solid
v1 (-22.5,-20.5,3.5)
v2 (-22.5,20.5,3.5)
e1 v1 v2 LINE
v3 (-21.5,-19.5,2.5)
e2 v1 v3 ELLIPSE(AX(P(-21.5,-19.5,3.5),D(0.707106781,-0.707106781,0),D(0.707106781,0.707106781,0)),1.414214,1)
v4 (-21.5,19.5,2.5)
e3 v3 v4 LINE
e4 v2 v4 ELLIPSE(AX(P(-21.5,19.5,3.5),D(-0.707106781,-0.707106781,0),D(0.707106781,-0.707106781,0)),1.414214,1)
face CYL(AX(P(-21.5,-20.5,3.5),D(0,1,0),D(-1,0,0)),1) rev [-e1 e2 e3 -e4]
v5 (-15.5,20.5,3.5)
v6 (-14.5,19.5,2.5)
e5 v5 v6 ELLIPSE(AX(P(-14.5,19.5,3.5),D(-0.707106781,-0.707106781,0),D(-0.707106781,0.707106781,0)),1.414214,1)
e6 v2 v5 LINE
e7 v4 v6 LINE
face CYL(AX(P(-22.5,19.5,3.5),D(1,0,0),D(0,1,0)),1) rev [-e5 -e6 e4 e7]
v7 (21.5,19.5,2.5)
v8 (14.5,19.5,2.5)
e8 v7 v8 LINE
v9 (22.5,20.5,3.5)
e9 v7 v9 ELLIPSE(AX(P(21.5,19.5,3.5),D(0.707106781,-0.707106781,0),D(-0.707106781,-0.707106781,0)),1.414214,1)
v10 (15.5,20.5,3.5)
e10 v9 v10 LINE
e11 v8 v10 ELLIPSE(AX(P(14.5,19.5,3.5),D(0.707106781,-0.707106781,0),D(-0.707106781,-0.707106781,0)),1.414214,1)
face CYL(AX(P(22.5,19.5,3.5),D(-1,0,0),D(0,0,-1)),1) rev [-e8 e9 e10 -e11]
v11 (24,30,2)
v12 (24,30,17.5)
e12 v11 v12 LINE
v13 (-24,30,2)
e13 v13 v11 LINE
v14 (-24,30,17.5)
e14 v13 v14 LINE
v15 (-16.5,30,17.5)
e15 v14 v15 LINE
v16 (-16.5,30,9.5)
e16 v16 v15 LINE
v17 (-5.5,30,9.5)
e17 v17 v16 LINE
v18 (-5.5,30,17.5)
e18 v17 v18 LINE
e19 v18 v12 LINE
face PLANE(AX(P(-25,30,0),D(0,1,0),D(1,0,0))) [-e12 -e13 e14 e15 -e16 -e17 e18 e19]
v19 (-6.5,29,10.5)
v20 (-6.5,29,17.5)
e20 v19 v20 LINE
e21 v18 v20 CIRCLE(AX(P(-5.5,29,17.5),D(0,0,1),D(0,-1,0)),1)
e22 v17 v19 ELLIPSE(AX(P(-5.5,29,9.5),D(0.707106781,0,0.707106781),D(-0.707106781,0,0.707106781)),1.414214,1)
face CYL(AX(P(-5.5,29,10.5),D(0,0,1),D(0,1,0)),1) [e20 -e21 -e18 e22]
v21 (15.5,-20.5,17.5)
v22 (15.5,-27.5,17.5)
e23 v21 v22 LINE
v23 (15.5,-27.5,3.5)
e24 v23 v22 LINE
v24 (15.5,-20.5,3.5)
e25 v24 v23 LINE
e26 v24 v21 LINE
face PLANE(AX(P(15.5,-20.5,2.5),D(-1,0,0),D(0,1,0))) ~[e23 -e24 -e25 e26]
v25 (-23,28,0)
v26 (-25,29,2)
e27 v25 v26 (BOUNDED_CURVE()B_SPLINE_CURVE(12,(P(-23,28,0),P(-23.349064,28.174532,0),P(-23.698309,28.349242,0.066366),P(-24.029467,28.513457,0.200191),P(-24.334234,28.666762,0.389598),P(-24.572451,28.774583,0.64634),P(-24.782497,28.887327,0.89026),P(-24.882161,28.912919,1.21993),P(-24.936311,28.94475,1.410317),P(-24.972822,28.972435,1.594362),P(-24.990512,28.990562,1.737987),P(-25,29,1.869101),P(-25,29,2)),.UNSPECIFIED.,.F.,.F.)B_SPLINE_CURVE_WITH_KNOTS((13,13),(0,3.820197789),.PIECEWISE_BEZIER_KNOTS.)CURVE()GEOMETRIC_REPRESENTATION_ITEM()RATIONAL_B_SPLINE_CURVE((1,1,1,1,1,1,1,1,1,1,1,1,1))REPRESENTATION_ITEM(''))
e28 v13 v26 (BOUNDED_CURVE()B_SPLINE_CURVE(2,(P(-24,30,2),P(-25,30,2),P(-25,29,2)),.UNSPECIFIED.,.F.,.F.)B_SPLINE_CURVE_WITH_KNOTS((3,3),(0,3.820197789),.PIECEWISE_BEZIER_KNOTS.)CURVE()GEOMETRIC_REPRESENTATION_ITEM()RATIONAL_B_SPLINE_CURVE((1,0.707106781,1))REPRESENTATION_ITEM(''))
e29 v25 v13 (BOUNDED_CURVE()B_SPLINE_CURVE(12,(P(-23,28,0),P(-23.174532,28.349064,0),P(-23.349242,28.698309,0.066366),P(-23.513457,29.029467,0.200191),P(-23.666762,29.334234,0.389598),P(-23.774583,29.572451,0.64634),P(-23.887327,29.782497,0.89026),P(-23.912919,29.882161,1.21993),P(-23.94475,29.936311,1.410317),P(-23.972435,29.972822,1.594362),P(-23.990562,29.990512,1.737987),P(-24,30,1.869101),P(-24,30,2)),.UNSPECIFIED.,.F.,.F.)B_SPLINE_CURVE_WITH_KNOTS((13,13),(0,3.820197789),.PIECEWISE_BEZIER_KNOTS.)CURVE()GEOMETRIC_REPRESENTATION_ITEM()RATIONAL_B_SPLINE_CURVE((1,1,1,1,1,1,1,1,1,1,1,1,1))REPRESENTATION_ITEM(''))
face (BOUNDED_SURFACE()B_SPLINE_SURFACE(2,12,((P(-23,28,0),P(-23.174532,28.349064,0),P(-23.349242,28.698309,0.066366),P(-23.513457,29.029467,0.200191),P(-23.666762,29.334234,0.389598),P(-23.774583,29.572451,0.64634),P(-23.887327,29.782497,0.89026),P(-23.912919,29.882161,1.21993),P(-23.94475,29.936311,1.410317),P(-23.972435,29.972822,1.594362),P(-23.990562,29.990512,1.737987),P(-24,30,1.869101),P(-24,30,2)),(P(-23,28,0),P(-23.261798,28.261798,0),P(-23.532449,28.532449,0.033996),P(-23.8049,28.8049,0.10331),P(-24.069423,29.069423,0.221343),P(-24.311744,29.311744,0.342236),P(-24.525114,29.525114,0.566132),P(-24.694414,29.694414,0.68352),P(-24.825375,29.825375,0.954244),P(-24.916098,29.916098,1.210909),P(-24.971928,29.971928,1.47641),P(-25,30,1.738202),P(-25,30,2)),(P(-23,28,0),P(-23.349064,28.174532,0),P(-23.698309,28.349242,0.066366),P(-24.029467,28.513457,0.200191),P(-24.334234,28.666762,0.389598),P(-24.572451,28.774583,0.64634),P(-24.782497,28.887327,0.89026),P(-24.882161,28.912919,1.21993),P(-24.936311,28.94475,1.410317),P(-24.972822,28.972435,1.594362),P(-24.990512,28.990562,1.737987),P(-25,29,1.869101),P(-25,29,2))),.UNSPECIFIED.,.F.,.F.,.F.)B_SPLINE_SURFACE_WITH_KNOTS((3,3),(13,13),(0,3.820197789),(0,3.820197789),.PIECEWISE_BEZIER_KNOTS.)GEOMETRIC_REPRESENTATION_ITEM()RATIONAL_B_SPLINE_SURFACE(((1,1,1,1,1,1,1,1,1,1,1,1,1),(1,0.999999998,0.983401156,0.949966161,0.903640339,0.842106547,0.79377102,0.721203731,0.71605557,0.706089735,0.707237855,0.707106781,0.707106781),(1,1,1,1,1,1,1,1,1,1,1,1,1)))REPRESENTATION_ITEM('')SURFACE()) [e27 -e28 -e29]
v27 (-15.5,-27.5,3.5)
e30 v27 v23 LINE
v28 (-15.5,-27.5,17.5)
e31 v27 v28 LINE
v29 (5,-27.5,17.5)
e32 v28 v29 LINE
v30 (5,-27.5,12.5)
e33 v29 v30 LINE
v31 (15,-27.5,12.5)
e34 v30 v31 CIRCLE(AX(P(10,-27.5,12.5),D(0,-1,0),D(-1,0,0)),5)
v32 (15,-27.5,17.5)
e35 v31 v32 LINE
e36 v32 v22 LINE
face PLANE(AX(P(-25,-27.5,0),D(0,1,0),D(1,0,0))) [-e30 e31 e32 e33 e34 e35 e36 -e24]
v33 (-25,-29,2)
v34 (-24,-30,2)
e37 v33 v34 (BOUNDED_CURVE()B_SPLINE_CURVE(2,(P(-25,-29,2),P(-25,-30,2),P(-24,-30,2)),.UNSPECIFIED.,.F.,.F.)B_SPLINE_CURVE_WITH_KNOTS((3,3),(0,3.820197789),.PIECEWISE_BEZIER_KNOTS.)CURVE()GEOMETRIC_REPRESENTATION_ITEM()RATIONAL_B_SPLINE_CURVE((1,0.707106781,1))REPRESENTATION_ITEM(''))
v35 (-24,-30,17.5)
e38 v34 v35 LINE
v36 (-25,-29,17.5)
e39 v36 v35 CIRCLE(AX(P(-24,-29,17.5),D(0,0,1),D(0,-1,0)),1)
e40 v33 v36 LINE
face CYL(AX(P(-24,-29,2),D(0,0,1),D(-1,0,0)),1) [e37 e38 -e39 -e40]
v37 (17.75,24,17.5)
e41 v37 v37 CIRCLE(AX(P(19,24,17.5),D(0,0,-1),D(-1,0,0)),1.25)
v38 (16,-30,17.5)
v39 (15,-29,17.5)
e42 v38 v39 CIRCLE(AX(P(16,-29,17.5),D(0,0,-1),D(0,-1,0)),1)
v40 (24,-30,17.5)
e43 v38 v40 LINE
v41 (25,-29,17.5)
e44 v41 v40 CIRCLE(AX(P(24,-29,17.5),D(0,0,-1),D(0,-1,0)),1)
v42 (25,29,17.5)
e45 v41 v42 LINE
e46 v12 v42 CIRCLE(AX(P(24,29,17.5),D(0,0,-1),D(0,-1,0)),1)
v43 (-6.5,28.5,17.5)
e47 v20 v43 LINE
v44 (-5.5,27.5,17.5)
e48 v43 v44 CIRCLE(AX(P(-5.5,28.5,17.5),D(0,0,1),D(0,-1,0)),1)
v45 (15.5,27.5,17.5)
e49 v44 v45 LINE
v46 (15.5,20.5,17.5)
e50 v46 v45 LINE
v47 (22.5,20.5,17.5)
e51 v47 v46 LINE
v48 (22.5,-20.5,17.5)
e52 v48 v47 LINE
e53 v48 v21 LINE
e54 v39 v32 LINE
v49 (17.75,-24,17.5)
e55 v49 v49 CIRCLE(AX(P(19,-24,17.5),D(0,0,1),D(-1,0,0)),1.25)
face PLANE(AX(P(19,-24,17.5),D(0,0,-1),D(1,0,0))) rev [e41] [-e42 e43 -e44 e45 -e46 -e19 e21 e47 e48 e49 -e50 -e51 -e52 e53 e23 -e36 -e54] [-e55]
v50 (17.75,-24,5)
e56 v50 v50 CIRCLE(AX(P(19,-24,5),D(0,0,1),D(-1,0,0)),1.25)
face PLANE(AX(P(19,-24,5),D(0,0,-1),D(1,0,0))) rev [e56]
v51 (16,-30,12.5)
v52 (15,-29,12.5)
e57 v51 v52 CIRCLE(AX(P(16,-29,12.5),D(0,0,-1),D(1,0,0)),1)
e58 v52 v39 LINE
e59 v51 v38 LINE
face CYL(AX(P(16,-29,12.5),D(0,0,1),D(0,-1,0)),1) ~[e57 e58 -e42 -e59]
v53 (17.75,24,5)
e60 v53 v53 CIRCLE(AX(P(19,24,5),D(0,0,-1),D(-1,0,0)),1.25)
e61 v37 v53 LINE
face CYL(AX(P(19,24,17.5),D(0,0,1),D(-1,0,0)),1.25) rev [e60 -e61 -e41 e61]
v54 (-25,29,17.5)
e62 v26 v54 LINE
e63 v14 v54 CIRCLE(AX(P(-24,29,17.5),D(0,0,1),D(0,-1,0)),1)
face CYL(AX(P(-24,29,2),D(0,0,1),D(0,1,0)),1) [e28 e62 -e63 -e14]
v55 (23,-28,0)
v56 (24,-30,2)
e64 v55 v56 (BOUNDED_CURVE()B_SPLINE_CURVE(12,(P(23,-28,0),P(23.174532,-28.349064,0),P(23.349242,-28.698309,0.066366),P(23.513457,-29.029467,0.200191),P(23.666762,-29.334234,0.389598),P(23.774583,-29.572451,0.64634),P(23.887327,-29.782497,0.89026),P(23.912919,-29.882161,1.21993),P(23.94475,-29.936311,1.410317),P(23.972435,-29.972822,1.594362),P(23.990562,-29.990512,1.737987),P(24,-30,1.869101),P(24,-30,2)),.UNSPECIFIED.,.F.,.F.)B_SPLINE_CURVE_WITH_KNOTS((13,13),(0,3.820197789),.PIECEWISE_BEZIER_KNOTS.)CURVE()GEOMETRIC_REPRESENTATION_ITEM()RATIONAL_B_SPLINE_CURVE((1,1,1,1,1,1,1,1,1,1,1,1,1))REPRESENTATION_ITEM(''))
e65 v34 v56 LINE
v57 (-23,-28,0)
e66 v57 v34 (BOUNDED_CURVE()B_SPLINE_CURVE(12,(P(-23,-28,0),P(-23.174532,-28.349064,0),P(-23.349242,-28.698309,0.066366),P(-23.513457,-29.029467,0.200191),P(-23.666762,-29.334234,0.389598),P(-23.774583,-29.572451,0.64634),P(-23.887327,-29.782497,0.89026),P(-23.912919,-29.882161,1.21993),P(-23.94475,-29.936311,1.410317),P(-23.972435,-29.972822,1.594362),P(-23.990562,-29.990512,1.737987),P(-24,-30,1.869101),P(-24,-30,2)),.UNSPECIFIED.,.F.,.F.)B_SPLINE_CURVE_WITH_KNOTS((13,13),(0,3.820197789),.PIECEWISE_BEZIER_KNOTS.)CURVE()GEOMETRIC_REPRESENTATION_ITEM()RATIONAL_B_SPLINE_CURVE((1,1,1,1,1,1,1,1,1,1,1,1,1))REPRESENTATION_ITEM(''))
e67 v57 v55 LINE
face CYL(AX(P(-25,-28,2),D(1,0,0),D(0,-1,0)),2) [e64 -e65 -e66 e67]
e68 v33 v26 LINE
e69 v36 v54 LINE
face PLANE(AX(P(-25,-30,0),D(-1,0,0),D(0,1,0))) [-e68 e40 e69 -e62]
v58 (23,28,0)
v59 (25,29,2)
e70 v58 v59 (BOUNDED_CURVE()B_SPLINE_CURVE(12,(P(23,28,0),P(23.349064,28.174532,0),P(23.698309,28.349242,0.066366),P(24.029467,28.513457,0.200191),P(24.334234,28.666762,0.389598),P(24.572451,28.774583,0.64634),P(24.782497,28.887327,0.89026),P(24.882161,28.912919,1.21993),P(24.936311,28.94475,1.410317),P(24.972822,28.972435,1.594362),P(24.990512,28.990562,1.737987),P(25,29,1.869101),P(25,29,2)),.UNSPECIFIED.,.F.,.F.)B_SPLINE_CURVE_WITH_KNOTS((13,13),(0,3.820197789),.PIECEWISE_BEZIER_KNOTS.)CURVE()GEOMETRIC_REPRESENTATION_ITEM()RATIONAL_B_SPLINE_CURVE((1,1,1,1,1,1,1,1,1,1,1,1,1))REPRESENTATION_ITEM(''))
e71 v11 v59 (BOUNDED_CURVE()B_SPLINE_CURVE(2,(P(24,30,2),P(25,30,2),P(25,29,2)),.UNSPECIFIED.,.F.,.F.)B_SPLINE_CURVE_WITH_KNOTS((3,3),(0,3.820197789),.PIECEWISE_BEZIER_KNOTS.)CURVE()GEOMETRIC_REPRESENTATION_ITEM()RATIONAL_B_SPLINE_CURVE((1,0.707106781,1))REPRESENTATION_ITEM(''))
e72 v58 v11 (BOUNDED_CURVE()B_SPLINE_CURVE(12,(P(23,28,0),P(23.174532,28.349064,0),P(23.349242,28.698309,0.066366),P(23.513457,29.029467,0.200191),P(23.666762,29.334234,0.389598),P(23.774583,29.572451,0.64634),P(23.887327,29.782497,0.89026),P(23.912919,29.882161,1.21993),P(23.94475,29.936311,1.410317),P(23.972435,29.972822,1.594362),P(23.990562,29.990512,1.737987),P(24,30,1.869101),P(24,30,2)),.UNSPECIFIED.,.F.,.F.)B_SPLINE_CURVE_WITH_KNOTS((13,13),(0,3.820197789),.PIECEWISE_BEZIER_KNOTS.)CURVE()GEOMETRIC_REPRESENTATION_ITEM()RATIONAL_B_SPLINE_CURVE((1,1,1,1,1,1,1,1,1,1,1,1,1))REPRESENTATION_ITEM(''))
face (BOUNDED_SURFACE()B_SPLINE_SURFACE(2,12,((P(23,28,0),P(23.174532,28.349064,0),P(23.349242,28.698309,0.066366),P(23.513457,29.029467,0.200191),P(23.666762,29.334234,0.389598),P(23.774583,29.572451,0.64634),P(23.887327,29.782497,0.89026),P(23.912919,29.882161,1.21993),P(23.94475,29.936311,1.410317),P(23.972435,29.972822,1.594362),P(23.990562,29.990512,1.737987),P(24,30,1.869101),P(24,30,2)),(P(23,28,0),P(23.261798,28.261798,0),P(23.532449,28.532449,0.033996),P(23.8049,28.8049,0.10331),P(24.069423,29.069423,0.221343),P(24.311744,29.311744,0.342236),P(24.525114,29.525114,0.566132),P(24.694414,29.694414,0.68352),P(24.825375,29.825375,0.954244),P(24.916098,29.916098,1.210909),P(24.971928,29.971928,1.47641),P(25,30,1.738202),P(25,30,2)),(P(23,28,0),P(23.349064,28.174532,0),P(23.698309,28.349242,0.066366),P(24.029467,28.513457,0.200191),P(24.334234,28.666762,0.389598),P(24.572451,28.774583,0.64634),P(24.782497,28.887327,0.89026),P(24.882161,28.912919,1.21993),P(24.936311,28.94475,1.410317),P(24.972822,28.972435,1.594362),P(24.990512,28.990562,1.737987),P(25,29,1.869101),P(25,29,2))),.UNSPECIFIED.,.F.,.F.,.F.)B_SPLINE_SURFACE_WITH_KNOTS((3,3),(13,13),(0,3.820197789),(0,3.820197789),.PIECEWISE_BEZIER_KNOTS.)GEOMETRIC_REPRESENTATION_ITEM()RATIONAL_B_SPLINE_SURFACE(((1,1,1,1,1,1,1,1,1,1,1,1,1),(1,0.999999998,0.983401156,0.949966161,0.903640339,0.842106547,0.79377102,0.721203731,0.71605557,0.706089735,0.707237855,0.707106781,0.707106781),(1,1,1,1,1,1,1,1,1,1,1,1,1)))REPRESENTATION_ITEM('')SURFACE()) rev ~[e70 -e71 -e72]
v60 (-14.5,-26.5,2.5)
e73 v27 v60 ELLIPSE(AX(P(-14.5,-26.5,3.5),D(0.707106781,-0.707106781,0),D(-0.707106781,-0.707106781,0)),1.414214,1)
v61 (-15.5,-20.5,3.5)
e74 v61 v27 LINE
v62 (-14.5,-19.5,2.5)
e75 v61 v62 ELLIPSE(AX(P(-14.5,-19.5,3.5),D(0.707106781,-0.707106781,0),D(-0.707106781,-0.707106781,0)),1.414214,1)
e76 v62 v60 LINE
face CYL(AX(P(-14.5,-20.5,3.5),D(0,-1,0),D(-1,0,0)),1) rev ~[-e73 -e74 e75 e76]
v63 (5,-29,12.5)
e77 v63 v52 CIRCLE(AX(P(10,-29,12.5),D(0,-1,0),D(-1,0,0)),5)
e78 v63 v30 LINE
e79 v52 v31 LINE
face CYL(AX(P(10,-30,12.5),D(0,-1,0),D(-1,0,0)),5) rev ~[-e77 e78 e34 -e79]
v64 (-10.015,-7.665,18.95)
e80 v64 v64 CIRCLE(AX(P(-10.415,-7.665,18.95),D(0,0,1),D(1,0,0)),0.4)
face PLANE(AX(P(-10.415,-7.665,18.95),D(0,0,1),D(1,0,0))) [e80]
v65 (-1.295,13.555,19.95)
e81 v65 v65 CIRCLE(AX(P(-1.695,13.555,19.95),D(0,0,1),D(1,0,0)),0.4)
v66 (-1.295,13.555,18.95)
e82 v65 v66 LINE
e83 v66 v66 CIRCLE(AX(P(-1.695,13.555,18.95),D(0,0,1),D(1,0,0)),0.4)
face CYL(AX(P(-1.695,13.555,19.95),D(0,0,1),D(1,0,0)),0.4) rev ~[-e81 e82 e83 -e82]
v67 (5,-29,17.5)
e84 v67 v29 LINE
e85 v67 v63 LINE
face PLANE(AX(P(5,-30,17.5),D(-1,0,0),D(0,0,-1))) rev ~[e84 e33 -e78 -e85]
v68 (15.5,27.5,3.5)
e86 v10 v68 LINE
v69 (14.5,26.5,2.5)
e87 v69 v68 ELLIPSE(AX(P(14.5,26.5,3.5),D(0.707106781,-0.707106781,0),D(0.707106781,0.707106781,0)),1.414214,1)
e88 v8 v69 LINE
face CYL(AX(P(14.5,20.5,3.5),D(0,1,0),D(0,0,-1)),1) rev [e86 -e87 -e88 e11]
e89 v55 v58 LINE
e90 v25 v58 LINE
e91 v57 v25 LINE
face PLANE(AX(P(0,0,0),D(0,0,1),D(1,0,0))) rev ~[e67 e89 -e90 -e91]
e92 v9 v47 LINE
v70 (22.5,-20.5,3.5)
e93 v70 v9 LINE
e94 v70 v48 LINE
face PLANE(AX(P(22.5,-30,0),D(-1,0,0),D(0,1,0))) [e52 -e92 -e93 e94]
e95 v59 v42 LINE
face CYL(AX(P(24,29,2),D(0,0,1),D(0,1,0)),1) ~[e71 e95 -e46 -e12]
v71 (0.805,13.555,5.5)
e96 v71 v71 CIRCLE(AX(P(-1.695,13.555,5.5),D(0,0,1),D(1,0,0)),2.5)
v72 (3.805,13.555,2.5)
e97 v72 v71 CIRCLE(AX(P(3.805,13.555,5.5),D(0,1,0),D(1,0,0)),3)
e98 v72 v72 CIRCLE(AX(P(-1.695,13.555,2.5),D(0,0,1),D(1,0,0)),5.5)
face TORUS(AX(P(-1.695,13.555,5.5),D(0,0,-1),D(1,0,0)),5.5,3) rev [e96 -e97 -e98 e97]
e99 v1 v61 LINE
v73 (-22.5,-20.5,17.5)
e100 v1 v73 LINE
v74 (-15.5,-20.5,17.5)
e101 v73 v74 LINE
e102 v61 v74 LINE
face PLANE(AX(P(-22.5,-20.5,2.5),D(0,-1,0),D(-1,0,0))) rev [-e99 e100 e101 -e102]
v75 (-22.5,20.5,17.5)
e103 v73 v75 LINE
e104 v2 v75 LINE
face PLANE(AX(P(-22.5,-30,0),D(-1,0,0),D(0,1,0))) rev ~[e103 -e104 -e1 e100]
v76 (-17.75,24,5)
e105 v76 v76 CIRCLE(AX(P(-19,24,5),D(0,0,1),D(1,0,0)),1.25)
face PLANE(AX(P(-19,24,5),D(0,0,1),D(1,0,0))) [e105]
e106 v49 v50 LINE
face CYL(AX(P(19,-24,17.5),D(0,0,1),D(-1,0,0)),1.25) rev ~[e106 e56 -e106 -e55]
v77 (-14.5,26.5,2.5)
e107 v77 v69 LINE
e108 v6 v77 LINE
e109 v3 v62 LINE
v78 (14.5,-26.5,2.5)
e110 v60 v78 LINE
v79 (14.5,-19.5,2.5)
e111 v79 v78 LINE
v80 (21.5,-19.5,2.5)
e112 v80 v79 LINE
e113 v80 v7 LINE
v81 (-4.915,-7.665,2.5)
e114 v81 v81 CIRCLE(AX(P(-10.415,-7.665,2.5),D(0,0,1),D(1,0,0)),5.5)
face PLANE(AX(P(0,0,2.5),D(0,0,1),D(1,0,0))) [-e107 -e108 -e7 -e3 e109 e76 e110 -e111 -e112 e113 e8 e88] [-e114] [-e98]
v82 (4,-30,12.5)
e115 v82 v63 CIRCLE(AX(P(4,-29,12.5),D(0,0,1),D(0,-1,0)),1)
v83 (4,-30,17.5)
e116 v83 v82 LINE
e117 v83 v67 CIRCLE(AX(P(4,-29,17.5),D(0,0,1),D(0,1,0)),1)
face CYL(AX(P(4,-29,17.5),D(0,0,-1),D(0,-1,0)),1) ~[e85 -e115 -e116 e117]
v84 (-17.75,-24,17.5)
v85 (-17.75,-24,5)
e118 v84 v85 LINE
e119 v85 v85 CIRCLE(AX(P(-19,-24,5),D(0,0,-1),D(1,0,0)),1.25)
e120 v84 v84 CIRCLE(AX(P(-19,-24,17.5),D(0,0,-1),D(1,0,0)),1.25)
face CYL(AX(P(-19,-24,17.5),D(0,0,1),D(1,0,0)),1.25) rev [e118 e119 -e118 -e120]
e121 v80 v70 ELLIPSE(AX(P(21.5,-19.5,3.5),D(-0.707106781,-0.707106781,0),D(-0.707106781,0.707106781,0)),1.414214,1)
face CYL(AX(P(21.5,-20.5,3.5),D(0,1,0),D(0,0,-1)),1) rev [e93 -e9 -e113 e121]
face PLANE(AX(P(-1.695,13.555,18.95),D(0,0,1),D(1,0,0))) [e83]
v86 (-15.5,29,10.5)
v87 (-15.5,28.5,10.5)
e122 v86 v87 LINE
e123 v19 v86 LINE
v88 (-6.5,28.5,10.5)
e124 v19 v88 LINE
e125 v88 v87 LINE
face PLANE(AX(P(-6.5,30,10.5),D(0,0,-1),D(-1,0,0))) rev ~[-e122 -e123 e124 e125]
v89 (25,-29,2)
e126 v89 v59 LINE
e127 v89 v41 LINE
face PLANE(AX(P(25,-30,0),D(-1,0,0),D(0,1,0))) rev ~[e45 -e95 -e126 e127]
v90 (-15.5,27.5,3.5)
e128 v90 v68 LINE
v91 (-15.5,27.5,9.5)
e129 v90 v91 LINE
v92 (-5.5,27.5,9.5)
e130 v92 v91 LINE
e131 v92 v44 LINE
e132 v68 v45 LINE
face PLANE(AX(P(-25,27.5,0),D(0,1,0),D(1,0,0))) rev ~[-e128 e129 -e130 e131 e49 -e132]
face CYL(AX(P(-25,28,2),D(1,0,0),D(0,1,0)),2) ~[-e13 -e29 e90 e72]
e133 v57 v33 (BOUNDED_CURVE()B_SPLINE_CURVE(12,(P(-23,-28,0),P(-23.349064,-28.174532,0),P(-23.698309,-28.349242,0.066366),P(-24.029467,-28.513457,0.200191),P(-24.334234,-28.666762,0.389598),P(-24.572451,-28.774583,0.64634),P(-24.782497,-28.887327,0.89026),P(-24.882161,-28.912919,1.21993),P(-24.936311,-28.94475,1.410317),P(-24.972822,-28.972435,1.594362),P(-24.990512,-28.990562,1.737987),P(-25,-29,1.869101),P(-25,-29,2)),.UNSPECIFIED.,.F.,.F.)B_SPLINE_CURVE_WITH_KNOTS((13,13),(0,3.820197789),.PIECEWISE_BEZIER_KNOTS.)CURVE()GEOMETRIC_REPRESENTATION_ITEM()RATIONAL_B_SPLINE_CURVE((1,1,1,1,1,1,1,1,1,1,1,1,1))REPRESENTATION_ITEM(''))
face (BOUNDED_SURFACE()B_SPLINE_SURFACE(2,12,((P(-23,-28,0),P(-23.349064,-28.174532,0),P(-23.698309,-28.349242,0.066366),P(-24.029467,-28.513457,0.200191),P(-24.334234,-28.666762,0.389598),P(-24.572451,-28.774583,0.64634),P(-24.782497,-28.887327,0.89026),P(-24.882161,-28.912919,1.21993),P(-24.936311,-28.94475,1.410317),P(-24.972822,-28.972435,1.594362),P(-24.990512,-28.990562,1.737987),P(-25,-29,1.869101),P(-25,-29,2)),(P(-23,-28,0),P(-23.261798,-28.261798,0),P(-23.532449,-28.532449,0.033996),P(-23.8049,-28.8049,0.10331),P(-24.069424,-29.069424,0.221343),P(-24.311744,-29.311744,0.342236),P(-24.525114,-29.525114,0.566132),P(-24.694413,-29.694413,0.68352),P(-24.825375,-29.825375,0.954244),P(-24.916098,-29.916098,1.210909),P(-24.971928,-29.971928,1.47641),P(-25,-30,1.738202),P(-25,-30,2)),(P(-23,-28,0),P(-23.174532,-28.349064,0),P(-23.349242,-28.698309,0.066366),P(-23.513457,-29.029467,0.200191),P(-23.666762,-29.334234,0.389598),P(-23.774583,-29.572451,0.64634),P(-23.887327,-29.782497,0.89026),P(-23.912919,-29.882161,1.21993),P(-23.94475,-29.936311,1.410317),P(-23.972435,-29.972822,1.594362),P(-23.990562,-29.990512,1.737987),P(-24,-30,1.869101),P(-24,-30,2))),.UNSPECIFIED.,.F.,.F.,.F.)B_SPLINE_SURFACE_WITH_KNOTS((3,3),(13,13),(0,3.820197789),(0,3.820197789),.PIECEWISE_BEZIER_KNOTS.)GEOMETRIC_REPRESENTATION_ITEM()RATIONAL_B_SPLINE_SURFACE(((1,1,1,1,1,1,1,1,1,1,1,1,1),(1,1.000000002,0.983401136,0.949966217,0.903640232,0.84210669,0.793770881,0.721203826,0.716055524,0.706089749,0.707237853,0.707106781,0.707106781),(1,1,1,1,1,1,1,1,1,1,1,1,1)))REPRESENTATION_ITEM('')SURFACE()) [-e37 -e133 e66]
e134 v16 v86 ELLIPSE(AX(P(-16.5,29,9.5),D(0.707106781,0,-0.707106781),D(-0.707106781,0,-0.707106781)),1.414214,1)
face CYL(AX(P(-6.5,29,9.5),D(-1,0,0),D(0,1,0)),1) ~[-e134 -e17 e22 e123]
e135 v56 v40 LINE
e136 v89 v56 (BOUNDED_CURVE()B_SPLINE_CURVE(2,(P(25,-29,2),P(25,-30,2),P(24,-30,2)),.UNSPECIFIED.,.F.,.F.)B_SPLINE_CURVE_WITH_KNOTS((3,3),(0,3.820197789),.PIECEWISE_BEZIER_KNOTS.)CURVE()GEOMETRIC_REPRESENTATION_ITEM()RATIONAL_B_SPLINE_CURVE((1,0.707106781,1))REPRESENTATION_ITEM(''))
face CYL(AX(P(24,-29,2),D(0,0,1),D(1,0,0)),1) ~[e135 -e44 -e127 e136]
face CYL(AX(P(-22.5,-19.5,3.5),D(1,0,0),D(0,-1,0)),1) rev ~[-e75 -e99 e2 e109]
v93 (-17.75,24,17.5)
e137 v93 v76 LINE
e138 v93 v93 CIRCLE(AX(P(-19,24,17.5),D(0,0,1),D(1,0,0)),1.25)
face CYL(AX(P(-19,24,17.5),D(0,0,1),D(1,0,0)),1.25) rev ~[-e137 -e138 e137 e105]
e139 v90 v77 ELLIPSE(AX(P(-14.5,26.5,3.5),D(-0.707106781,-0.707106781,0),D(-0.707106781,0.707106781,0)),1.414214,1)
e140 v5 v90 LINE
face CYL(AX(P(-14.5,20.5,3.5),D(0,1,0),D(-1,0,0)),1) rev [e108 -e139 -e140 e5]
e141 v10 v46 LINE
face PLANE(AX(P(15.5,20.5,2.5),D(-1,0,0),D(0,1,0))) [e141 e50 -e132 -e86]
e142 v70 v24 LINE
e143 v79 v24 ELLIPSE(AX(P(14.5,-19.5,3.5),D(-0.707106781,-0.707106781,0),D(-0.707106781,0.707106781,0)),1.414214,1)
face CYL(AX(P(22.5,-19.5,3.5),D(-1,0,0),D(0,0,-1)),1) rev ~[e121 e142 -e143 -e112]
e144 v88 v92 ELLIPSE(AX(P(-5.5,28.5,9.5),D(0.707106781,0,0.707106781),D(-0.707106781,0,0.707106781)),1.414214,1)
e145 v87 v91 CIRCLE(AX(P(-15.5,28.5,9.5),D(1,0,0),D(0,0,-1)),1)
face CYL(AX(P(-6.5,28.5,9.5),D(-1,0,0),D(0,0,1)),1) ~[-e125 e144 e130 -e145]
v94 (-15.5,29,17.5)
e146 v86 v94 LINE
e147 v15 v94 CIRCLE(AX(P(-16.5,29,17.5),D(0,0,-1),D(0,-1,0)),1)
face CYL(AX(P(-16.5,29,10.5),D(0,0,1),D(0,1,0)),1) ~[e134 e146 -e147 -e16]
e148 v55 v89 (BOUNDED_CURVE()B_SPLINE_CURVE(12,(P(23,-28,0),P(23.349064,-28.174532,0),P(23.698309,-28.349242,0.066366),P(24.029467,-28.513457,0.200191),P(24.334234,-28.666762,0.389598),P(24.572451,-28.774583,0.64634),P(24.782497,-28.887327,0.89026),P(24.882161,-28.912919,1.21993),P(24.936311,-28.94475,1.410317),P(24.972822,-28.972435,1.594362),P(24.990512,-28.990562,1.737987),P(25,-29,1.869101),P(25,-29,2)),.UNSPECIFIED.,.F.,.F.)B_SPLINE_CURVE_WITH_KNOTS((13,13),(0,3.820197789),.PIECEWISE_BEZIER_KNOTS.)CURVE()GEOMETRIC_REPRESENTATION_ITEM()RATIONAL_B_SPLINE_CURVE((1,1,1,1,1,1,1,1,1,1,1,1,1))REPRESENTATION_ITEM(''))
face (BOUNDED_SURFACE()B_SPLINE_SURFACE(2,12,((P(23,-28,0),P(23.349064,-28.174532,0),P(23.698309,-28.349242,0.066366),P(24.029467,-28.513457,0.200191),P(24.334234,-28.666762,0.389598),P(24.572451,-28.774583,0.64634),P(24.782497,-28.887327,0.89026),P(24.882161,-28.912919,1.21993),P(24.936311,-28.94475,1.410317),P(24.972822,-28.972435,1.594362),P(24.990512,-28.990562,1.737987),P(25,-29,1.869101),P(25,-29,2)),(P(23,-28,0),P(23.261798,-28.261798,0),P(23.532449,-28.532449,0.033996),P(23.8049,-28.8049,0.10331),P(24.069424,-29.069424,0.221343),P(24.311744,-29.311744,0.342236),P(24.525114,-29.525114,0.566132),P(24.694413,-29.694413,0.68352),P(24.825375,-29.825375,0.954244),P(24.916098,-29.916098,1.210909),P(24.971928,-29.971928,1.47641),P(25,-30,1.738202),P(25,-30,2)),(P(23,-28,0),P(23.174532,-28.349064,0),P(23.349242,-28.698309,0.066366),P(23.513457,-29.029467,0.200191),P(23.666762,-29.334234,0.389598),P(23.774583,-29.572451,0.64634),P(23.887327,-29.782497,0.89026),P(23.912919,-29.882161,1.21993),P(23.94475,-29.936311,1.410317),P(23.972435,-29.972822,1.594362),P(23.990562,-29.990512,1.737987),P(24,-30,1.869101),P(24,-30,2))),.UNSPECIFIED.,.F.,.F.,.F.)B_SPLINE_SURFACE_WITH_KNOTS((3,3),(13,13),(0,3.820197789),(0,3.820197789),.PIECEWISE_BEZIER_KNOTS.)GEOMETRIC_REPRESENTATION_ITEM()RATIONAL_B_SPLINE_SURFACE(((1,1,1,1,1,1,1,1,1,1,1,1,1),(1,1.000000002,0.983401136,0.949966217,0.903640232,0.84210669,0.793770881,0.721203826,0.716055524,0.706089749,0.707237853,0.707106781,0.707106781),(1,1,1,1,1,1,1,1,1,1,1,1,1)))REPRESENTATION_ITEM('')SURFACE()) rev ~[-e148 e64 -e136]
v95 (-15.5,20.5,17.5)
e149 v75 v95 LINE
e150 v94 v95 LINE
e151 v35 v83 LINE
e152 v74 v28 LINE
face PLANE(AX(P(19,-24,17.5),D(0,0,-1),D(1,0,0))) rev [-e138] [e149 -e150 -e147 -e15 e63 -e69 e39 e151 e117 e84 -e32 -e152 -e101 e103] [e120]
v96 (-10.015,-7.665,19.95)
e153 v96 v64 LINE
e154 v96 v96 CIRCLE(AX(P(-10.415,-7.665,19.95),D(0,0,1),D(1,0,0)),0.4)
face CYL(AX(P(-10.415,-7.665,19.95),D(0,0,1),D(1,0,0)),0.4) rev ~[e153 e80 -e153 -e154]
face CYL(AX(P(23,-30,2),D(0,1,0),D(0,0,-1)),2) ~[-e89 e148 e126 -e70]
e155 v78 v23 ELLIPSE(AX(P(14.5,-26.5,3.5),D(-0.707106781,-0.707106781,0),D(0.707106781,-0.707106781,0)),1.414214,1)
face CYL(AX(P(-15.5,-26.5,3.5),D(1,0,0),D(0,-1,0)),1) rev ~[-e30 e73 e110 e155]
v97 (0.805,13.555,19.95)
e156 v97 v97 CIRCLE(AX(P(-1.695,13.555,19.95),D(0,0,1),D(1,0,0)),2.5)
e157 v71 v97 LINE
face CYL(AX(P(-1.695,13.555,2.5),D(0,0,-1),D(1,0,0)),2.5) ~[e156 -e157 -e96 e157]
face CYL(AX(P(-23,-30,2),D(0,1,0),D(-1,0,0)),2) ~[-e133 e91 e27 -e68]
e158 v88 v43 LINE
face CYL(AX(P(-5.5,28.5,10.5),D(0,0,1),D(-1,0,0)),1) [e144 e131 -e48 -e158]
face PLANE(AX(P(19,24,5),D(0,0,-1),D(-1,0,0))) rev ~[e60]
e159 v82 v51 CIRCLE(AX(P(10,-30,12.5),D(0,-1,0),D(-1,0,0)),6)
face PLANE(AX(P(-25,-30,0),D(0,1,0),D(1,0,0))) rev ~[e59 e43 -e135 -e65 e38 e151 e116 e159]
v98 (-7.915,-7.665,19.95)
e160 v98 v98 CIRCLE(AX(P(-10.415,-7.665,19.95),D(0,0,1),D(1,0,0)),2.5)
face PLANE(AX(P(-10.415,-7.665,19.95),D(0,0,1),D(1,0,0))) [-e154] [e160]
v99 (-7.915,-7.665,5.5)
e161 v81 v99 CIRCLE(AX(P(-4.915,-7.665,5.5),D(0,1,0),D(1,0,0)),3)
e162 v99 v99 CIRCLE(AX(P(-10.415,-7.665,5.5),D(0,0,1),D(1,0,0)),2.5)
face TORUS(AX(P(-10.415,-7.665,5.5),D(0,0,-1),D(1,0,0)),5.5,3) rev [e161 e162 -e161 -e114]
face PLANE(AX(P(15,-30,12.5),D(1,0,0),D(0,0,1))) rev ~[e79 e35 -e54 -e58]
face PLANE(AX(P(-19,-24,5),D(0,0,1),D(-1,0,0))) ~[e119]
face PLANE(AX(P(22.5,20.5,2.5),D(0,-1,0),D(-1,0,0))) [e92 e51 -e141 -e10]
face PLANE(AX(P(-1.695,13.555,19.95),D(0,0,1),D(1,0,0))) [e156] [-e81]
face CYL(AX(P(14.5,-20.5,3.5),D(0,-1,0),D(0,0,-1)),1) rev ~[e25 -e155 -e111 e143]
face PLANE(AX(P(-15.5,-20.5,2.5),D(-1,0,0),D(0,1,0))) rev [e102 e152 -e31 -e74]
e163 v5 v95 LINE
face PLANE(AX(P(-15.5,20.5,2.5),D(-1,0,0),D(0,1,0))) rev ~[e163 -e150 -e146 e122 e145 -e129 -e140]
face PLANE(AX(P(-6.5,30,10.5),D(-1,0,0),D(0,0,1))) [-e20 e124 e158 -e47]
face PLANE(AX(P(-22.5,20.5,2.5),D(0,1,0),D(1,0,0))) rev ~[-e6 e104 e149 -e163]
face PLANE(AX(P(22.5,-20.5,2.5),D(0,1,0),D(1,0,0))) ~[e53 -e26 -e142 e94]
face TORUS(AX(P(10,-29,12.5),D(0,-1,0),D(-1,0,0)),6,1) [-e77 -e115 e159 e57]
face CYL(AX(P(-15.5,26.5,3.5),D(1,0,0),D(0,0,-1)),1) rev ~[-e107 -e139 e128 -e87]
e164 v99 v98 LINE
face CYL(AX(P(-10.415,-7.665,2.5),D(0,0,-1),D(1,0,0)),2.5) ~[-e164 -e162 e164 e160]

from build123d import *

# Parameters (mm, degrees)
SKETCH001_W                   = 50
SKETCH001_H                   = 60
PAD001_DEPTH                  = 17.5
THICKNESS_T                   = -2.5
SKETCH002_R                   = 2.5
PAD002_DEPTH                  = 17.45
SKETCH003_R                   = 0.4
POCKET_DEPTH                  = 1
SKETCH004_W                   = 7
SKETCH004_H                   = 7
PAD003_DEPTH                  = 15
SKETCH004_MIRRORED_2_W        = 7
SKETCH004_MIRRORED_2_H        = 7
PAD003_MIRRORED_2_DEPTH       = 15
SKETCH005_R                   = 1.25
POCKET001_DEPTH               = 12.5
SKETCH005_MIRRORED002_2_R     = 1.25
POCKET001_MIRRORED002_2_DEPTH = 12.5
POCKET002_DEPTH               = 2.5
SKETCH007_W                   = 9
SKETCH007_H                   = 7
POCKET003_DEPTH               = 2.5
FILLET_R                      = 3
FILLET001_R                   = 2
FILLET002_R                   = 1
FILLET003_R                   = 1
FILLET004_R                   = 1
FILLET005_R                   = 1


with BuildPart() as part:
    # Sketch001 → Pad001 (new body)
    with BuildSketch(Plane.XY):
        Rectangle(SKETCH001_W, SKETCH001_H)
    extrude(amount=PAD001_DEPTH)

    # Thickness
    thickness_openings = [part.faces().sort_by_distance(p)[0] for p in [
        (0, 0, 17.5),
    ]]
    offset(amount=THICKNESS_T, openings=thickness_openings)

    # Sketch002 (on Face11 of Thickness) → Pad002 (join)
    with BuildSketch(Plane.XY.offset(2.5)):
        with Locations((-10.415, -7.665)):
            Circle(SKETCH002_R)
        with Locations((-1.695, 13.555)):
            Circle(SKETCH002_R)
    extrude(amount=PAD002_DEPTH)

    # Sketch003 (on Face14 of Pad002) → Pocket (cut)
    with BuildSketch(Plane.XY.offset(19.95)):
        with Locations((-10.415, -7.665)):
            Circle(SKETCH003_R)
        with Locations((-1.695, 13.555)):
            Circle(SKETCH003_R)
    extrude(amount=-POCKET_DEPTH, mode=Mode.SUBTRACT)

    # Sketch004 (on Face11 of Pocket) → Pad003 (join)
    with BuildSketch(Plane.XY.offset(2.5)):
        with Locations((-19, 24)):
            Rectangle(SKETCH004_W, SKETCH004_H)
    pad003 = extrude(amount=PAD003_DEPTH)

    # Sketch004 Mirrored 2 → Pad003 Mirrored 2 (add)
    with BuildSketch(Plane(origin=(0, 0, 2.5), x_dir=(-1, 0, 0), z_dir=(0, 0, -1))):
        with Locations((-19, 24)):
            Rectangle(SKETCH004_MIRRORED_2_W, SKETCH004_MIRRORED_2_H)
    pad003_mirrored_2 = extrude(amount=-PAD003_MIRRORED_2_DEPTH)

    # Mirrored001: Pad003, Pad003 Mirrored 2 across Sketch004 H_Axis
    add(pad003.mirror(Plane(origin=(0, 0, 2.5), x_dir=(0, 0, 1), z_dir=(0, 1, 0))))
    add(pad003_mirrored_2.mirror(Plane(origin=(0, 0, 2.5), x_dir=(0, 0, 1), z_dir=(0, 1, 0))))

    # Sketch005 (on Face11 of MultiTransform) → Pocket001 (cut)
    with BuildSketch(Plane.XY.offset(17.5)):
        with Locations((-19, 24)):
            Circle(SKETCH005_R)
    pocket001 = extrude(amount=-POCKET001_DEPTH, mode=Mode.SUBTRACT)

    # Sketch005 Mirrored002 2 → Pocket001 Mirrored002 2 (cut)
    with BuildSketch(Plane(origin=(0, 0, 17.5), x_dir=(-1, 0, 0), z_dir=(0, 0, -1))):
        with Locations((-19, 24)):
            Circle(SKETCH005_MIRRORED002_2_R)
    pocket001_mirrored002_2 = extrude(amount=POCKET001_MIRRORED002_2_DEPTH, mode=Mode.SUBTRACT)

    # Mirrored003: Pocket001, Pocket001 Mirrored002 2 across Sketch005 H_Axis
    add(pocket001.mirror(Plane(origin=(0, 0, 17.5), x_dir=(0, 0, 1), z_dir=(0, 1, 0))), mode=Mode.SUBTRACT)
    add(pocket001_mirrored002_2.mirror(Plane(origin=(0, 0, 17.5), x_dir=(0, 0, 1), z_dir=(0, 1, 0))), mode=Mode.SUBTRACT)

    # Sketch006 (on Face6 of MultiTransform001) → Pocket002 (cut)
    with BuildSketch(Plane.XZ.offset(30)):
        with BuildLine():
            ThreePointArc((15, 17.5), (10, 22.5), (5, 17.5))
            Line((5, 17.5), (5, 12.5))
            ThreePointArc((5, 12.5), (10, 7.5), (15, 12.5))
            Line((15, 12.5), (15, 17.5))
        make_face()
    extrude(amount=-POCKET002_DEPTH, mode=Mode.SUBTRACT)

    # Sketch007 (on Face1 of Pocket002) → Pocket003 (cut)
    with BuildSketch(Plane(origin=(0, 30, 0), x_dir=(-1, 0, 0), z_dir=(0, 1, 0))):
        with Locations((11, 14)):
            Rectangle(SKETCH007_W, SKETCH007_H)
    extrude(amount=-POCKET003_DEPTH, mode=Mode.SUBTRACT)

    # Fillet
    fillet_edges = [part.edges().sort_by_distance(p)[0] for p in [
        (-12.915, -7.665, 2.5),
        (-4.195, 13.555, 2.5),
    ]]
    fillet(fillet_edges, radius=FILLET_R)

    # Fillet001
    fillet001_edges = [part.edges().sort_by_distance(p)[0] for p in [
        (-25, 0, 0),
        (0, -30, 0),
        (25, 0, 0),
        (0, 30, 0),
    ]]
    fillet(fillet001_edges, radius=FILLET001_R)

    # Fillet002
    fillet002_edges = [part.edges().sort_by_distance(p)[0] for p in [
        (-25, -30, 9.75),
        (25, -30, 9.75),
        (25, 30, 9.75),
        (-25, 30, 9.75),
    ]]
    fillet(fillet002_edges, radius=FILLET002_R)

    # Fillet003
    fillet003_edges = [part.edges().sort_by_distance(p)[0] for p in [
        (-11, 30, 10.5),
        (-15.5, 30, 14),
        (-6.5, 30, 14),
        (-6.5, 27.5, 14),
        (-11, 27.5, 10.5),
    ]]
    fillet(fillet003_edges, radius=FILLET003_R)

    # Fillet004
    fillet004_edges = [part.edges().sort_by_distance(p)[0] for p in [
        (10, -30, 7.5),
        (5, -30, 15),
        (15, -30, 15),
    ]]
    fillet(fillet004_edges, radius=FILLET004_R)

    # Fillet005
    fillet005_edges = [part.edges().sort_by_distance(p)[0] for p in [
        (19, -20.5, 2.5),
        (15.5, -24, 2.5),
        (-15.5, -24, 2.5),
        (-19, -20.5, 2.5),
        (-15.5, 24, 2.5),
        (-19, 20.5, 2.5),
        (19, 20.5, 2.5),
        (15.5, 24, 2.5),
        (0, 27.5, 2.5),
        (22.5, 0, 2.5),
        (0, -27.5, 2.5),
        (-22.5, 0, 2.5),
    ]]
    fillet(fillet005_edges, radius=FILLET005_R)


solid = part.part
